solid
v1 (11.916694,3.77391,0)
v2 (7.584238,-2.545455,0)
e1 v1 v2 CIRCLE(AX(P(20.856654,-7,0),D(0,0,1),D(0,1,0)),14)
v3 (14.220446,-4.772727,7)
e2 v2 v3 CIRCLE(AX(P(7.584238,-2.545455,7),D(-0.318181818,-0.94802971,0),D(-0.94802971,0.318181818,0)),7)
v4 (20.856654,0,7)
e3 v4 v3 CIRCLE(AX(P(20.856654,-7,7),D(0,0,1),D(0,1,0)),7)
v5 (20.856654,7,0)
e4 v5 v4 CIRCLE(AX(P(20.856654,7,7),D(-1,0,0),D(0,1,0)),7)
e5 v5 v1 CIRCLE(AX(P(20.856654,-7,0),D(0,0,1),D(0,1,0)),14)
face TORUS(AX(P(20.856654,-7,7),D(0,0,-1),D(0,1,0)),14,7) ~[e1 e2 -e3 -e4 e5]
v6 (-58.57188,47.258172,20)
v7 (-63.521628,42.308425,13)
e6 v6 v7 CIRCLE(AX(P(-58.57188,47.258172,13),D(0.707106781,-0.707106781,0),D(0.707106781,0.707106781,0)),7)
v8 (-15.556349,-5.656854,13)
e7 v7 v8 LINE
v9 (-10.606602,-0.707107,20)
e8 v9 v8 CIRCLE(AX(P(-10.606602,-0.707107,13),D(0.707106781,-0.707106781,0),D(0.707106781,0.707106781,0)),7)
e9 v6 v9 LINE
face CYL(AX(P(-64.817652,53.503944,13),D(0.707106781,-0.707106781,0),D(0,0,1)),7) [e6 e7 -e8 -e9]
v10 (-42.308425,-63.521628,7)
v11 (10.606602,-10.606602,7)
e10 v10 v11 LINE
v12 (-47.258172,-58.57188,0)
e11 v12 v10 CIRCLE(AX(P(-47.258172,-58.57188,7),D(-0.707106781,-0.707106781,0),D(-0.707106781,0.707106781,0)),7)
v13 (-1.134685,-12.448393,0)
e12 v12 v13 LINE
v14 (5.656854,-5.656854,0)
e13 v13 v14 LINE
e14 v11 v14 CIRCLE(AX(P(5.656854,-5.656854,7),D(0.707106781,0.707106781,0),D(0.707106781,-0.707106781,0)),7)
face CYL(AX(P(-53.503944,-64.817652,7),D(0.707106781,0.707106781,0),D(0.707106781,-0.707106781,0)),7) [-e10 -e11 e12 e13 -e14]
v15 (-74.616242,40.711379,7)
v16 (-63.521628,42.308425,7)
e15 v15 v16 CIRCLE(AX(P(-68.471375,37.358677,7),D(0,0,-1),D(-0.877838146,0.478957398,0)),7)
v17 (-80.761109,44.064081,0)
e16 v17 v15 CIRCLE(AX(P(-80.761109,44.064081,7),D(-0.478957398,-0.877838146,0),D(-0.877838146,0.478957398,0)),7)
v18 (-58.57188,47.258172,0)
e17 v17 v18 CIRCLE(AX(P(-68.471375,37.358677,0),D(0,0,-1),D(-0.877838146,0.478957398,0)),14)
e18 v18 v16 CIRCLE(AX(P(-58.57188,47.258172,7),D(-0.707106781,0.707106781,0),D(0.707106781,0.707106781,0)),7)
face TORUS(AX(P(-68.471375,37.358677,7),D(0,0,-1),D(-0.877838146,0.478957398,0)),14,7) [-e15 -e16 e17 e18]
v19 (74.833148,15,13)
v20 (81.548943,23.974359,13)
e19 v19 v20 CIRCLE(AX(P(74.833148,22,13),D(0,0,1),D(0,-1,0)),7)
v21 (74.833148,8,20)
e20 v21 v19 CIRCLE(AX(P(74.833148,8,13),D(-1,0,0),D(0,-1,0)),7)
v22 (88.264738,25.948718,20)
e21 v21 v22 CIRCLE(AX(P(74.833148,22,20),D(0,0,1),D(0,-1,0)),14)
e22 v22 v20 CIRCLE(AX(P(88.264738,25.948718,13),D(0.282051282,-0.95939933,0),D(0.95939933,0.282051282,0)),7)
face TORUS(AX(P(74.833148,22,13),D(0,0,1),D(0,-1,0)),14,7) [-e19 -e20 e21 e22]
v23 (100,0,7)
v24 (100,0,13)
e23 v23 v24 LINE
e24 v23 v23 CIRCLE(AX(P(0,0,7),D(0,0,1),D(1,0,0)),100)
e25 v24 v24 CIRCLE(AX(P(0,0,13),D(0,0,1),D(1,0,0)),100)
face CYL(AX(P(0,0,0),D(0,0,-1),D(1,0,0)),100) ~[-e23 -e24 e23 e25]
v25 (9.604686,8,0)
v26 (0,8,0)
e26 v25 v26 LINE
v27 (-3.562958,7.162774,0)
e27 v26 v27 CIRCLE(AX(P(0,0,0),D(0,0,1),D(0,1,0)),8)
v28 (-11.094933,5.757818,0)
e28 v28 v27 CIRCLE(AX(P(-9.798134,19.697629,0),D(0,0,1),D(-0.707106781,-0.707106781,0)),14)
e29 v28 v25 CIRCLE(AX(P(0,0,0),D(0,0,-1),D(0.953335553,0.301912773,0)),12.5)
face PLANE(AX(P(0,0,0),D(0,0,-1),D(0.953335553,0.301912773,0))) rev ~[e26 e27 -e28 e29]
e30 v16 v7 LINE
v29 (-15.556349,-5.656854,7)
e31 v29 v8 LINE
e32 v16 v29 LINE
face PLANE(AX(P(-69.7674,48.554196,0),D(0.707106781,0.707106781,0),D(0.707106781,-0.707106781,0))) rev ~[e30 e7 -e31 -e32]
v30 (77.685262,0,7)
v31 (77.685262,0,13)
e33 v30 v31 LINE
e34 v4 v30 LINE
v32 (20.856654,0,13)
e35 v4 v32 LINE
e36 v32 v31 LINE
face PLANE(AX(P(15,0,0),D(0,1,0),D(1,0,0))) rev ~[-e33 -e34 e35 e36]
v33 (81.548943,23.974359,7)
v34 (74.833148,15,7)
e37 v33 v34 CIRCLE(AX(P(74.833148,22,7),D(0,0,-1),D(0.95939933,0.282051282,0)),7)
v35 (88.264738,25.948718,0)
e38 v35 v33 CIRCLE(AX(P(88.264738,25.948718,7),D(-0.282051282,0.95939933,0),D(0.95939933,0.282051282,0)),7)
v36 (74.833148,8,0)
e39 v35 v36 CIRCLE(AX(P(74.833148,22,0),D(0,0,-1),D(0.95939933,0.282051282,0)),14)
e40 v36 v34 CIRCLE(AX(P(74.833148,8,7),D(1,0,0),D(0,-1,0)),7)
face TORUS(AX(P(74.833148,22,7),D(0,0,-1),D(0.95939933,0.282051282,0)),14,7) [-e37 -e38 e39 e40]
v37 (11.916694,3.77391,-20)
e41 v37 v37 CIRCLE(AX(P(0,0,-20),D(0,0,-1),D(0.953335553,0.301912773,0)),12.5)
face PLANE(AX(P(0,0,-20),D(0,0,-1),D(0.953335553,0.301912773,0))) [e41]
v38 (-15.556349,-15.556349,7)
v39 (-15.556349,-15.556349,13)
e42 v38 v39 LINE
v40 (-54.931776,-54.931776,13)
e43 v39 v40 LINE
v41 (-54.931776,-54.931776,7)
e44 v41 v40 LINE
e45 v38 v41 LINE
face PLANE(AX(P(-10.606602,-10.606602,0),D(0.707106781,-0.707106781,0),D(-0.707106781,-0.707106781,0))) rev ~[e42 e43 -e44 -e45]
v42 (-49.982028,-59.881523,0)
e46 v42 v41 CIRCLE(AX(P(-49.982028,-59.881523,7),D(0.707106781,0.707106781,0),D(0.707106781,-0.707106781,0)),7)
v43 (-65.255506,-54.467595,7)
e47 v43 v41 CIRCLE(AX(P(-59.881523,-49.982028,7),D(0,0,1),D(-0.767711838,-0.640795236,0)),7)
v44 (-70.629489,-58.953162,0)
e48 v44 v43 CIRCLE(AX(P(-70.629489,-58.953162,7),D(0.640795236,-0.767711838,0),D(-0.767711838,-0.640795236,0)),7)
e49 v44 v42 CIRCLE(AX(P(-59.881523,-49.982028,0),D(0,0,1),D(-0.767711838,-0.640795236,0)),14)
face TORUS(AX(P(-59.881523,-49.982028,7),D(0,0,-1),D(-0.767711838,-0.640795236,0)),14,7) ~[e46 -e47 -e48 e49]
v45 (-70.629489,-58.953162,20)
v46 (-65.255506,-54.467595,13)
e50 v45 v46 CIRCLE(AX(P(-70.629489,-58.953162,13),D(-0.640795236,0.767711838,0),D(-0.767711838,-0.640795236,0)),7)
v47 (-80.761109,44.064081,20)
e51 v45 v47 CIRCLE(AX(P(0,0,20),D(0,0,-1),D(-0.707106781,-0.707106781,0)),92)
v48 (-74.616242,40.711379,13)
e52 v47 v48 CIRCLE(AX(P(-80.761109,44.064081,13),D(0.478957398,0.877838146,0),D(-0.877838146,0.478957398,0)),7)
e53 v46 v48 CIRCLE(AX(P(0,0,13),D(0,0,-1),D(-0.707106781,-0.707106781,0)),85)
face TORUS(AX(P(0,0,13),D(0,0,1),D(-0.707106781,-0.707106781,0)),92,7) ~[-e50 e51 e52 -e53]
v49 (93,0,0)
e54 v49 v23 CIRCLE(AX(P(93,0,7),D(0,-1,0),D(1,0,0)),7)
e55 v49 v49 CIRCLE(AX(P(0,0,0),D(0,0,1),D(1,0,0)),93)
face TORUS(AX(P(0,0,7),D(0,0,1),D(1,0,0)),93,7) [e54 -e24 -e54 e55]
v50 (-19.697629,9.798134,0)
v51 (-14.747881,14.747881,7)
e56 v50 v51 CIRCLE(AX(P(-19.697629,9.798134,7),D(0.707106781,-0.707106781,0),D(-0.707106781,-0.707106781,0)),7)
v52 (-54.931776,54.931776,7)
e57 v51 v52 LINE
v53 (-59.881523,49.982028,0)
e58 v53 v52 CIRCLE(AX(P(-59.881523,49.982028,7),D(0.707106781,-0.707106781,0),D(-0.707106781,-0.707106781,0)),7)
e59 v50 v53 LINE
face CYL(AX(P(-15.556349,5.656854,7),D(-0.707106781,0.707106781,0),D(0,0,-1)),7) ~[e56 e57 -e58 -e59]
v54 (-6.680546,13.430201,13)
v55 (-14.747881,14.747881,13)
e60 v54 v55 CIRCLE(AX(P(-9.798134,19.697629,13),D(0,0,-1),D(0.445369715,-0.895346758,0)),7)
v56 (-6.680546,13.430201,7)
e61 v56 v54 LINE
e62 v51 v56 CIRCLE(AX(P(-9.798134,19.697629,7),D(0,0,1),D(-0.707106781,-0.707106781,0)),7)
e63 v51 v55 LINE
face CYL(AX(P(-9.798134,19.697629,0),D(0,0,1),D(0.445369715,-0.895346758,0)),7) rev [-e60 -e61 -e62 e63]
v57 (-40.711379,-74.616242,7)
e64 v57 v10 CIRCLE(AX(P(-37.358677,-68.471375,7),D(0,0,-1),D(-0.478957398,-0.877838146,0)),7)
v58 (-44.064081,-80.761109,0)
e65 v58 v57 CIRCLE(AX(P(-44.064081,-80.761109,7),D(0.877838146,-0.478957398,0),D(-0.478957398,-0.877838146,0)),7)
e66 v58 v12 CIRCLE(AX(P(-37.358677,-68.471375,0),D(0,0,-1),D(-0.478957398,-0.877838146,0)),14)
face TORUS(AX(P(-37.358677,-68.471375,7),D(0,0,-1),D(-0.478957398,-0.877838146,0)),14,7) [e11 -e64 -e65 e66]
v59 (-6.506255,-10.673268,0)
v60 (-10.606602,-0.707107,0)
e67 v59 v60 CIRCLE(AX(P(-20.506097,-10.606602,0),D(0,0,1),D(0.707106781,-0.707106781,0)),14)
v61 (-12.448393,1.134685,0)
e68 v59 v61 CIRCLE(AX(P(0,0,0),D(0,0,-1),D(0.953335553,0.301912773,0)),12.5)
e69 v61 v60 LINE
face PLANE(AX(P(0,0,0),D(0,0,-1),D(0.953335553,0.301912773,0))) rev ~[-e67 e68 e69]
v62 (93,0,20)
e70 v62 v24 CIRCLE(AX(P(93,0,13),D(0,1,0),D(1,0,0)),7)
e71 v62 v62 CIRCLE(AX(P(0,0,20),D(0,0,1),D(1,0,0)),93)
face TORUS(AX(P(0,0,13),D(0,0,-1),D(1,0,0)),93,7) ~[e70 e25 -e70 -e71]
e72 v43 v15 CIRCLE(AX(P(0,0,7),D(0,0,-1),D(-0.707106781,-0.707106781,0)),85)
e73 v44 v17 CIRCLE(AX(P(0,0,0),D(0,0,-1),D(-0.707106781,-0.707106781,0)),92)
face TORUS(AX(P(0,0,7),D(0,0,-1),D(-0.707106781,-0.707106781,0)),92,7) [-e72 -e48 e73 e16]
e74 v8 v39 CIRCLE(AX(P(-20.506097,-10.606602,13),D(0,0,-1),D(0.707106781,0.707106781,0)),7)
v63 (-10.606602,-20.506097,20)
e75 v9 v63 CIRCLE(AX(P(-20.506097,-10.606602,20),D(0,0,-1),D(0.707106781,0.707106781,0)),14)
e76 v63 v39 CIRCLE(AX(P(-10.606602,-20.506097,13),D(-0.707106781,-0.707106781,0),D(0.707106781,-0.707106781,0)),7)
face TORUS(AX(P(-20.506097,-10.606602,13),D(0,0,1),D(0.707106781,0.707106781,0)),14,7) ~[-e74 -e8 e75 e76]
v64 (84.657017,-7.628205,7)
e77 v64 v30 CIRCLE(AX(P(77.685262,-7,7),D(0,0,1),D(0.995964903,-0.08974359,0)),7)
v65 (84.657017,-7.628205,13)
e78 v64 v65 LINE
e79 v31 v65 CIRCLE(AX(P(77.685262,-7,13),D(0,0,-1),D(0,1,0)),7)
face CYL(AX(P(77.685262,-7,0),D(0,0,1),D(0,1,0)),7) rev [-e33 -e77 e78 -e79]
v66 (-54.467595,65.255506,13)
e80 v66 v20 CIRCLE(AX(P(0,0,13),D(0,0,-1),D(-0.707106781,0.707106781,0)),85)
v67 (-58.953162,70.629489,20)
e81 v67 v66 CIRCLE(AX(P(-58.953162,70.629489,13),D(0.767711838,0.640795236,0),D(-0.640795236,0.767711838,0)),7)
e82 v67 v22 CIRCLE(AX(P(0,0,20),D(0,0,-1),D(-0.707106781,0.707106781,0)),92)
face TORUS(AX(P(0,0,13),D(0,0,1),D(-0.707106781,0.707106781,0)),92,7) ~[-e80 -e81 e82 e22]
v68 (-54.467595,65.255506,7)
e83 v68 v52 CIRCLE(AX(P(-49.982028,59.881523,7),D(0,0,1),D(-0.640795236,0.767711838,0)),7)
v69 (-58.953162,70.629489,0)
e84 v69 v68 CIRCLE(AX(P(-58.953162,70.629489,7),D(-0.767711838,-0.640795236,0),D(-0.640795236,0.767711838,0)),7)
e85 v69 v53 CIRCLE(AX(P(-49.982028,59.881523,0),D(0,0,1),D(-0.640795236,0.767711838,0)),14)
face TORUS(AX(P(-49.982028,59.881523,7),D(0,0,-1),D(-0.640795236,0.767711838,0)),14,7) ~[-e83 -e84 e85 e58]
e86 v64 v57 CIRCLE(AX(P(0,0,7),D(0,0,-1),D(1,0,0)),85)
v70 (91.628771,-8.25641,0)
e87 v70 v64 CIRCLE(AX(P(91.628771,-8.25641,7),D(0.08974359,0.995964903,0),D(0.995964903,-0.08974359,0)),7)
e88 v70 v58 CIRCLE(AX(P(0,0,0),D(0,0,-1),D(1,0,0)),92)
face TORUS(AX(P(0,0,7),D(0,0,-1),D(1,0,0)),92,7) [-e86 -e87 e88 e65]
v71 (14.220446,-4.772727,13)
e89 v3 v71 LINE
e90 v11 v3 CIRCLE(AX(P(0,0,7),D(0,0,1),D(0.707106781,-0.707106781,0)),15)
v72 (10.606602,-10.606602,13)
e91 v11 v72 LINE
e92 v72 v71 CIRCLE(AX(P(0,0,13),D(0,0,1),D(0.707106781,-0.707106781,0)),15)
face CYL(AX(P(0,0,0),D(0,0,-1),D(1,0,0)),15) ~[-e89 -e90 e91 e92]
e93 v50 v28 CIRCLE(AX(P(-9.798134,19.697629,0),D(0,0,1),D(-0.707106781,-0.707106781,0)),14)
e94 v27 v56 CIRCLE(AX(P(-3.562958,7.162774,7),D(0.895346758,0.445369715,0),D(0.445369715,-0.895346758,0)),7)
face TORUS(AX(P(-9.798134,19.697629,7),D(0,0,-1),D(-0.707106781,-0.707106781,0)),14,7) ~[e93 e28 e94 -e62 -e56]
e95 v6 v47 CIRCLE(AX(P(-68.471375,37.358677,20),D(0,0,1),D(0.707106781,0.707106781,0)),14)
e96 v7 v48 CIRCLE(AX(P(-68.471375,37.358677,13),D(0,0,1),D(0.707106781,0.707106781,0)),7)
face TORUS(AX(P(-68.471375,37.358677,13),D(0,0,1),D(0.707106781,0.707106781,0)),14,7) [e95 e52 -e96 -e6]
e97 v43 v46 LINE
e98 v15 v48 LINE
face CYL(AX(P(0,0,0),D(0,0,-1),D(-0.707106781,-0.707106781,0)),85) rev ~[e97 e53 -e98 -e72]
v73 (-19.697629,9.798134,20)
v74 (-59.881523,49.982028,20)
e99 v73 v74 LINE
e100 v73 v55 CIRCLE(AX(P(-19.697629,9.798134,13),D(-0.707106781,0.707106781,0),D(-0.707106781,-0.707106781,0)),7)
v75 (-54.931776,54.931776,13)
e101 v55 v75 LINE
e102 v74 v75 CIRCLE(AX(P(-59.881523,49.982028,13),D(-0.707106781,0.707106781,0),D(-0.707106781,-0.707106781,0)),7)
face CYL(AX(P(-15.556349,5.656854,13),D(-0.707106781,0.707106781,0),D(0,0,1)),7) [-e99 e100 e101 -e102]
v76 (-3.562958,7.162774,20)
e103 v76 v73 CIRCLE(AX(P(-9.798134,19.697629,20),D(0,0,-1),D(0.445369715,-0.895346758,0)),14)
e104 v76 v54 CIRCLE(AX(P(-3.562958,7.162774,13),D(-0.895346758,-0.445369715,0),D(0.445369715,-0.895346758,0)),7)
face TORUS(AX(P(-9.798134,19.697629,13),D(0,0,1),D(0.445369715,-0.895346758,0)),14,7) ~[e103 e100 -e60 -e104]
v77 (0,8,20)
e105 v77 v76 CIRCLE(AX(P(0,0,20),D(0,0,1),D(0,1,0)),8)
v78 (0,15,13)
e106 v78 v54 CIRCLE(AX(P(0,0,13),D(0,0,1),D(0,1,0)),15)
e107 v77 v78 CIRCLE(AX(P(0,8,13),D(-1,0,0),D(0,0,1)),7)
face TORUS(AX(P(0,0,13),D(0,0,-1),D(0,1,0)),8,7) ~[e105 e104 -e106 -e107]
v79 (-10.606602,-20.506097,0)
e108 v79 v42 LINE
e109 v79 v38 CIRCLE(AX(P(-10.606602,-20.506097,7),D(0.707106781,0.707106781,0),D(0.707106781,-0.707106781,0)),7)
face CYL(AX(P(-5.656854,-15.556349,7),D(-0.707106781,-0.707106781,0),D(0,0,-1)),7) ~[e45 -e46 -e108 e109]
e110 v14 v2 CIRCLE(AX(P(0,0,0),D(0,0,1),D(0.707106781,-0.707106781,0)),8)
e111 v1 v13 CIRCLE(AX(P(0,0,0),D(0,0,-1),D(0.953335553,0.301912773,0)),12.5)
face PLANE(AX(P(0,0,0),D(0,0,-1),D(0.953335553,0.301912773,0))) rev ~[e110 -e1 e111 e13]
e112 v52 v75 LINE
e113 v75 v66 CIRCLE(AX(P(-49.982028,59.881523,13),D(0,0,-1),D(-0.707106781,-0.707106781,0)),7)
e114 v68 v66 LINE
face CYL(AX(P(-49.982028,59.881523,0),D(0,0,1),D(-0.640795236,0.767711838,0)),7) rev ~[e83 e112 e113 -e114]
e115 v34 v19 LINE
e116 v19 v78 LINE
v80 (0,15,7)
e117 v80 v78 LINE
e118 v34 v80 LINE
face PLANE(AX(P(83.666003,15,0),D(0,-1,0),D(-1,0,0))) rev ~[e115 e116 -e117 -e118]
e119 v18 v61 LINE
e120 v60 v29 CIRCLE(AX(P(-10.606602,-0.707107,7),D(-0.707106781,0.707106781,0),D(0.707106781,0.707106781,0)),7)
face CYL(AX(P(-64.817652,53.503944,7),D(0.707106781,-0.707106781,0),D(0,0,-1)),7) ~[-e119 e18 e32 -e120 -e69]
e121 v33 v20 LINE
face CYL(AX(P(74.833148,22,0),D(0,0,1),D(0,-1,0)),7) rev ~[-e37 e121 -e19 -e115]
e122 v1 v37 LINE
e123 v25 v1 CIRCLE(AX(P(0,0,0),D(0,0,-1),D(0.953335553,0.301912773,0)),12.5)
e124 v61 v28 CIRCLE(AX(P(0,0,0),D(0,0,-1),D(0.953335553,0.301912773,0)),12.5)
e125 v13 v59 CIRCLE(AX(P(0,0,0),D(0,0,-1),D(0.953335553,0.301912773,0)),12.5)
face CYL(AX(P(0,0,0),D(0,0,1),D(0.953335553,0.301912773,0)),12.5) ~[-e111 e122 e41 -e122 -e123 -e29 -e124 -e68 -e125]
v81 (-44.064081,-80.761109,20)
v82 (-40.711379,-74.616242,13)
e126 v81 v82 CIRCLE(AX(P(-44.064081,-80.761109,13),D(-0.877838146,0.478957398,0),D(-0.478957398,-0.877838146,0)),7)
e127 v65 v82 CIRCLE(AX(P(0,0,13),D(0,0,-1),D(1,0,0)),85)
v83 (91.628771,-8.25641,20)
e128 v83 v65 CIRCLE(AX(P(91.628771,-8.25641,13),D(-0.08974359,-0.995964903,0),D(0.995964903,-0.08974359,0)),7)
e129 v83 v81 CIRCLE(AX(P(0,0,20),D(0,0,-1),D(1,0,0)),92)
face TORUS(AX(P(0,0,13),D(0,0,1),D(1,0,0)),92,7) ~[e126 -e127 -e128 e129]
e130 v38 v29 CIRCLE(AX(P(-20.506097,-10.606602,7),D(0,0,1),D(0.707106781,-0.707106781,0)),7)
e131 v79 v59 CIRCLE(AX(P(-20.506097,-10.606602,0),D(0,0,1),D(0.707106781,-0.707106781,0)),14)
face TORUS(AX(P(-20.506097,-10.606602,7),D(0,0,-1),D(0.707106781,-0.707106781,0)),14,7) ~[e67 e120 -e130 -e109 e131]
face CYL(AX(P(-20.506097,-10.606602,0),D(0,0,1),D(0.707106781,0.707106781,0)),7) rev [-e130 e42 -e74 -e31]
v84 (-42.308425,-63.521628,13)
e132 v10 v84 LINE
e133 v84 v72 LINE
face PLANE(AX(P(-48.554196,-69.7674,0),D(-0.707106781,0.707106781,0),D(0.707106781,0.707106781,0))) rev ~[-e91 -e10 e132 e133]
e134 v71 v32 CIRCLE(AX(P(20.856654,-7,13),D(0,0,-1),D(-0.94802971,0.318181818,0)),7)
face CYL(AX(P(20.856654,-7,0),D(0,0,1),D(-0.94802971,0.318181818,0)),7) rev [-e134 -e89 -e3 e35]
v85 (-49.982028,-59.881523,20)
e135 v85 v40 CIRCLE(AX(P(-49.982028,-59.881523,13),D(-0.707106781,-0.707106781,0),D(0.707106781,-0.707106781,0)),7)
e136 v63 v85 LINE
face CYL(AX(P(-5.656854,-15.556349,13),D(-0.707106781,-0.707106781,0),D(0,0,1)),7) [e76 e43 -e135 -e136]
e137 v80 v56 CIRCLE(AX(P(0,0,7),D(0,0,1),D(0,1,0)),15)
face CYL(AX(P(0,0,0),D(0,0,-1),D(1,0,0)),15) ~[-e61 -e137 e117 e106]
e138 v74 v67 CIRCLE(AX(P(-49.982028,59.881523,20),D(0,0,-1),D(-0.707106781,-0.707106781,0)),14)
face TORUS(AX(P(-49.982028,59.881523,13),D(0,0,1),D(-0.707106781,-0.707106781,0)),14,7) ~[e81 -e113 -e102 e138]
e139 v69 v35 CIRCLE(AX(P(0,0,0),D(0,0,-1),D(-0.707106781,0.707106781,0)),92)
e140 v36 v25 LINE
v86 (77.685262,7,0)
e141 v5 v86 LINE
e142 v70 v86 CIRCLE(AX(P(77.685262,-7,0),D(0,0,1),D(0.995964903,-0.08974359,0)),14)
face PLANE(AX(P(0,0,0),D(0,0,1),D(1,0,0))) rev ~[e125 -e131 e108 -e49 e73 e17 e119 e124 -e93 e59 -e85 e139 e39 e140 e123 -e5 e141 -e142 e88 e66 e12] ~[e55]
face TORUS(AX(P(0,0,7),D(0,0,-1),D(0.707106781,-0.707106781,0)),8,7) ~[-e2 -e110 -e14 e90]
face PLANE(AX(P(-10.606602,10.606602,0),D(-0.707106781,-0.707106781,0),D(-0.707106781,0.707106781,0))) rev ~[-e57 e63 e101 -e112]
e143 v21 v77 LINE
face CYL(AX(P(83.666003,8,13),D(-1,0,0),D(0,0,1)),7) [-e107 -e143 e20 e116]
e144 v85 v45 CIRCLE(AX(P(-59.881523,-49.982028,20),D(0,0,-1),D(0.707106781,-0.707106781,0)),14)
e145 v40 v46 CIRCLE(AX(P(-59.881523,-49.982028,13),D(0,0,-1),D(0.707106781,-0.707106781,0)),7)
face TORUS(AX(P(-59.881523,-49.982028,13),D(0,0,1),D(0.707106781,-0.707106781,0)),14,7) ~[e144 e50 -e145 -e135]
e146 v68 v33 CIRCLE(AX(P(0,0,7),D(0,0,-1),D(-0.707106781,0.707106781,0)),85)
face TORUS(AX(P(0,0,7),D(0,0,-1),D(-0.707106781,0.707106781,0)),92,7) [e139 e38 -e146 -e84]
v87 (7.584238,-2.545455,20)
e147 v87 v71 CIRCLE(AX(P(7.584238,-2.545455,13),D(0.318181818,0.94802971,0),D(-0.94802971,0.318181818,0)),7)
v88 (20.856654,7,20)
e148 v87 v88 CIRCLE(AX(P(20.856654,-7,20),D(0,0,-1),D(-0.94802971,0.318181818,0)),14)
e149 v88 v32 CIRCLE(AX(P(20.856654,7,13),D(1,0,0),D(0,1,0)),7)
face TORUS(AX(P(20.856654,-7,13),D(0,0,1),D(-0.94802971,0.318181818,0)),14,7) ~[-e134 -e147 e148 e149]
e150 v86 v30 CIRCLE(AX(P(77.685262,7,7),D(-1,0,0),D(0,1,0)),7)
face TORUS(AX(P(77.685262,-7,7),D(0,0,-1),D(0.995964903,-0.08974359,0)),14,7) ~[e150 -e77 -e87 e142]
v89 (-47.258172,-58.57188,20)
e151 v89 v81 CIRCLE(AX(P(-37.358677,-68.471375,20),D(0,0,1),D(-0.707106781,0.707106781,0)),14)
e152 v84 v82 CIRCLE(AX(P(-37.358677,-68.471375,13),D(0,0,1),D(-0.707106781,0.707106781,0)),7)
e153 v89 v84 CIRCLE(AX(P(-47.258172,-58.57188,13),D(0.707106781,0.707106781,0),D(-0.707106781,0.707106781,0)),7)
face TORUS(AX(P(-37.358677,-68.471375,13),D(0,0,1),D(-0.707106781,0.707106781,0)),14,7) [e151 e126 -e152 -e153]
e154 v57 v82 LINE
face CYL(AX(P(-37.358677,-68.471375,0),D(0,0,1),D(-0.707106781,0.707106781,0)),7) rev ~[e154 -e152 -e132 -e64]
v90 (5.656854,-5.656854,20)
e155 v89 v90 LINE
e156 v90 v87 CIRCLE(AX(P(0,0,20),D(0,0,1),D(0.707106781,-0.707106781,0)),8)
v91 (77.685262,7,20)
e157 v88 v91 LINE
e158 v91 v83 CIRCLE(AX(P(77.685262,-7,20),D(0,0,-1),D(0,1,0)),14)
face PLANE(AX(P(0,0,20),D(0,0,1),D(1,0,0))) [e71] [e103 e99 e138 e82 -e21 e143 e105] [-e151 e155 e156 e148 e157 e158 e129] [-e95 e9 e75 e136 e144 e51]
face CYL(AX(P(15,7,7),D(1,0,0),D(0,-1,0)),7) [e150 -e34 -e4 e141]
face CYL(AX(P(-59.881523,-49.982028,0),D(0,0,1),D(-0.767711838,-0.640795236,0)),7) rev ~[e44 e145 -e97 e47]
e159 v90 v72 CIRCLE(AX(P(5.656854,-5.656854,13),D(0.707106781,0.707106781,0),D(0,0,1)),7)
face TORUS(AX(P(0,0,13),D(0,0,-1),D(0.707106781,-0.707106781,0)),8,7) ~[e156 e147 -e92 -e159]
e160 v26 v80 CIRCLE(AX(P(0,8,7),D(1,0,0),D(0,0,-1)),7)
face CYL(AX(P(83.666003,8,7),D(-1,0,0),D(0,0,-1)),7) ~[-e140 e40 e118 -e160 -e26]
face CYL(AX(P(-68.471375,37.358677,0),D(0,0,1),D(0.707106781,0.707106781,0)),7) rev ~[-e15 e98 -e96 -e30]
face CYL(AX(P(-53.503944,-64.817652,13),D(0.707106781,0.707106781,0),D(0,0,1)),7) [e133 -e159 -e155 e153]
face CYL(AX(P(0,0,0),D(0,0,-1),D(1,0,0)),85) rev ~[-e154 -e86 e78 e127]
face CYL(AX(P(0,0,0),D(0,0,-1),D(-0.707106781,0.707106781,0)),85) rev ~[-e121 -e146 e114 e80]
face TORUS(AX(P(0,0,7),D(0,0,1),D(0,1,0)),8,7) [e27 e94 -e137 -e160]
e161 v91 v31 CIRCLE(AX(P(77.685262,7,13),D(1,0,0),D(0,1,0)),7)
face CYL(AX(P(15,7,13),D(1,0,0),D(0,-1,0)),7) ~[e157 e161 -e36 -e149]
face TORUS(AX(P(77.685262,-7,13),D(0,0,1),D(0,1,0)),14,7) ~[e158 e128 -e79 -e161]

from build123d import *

# Parameters (mm, degrees)
SKETCH1_R           = 100
SKETCH1_R_2         = 15
BOSS_EXTRUDE1_DEPTH = 20
FILLET17_R          = 7
SKETCH2_R           = 12.5
BOSS_EXTRUDE2_DEPTH = 20


with BuildPart() as part:
    # Sketch1 → Boss-Extrude1 (new body)
    # profile 1 of 2: a face of its own
    with BuildSketch(Plane.XY):
        Circle(SKETCH1_R)
        with BuildLine():
            Line((-69.767399549, 48.554196113), (-10.606601718, -10.606601718))
            Line((-10.606601718, -10.606601718), (-60.104076401, -60.104076401))
            ThreePointArc((-60.104076401, -60.104076401), (-84.665843838, -7.529600735), (-69.767399549, 48.554196113))
        make_face(mode=Mode.SUBTRACT)
        with BuildLine():
            ThreePointArc((10.606601718, -10.606601718), (0, -15), (-10.606601718, -10.606601718))
            ThreePointArc((-10.606601718, -10.606601718), (-15, 0), (-10.606601718, 10.606601718))
            Line((-10.606601718, 10.606601718), (-60.104076401, 60.104076401))
            ThreePointArc((-60.104076401, 60.104076401), (25.443771717, 81.102493678), (83.666002653, 15))
            Line((83.666002653, 15), (0, 15))
            ThreePointArc((0, 15), (10.606601718, 10.606601718), (15, 0))
            Line((15, 0), (85, 0))
            ThreePointArc((85, 0), (39.356659731, -75.339586771), (-48.554196113, -69.767399549))
            Line((-48.554196113, -69.767399549), (10.606601718, -10.606601718))
        make_face(mode=Mode.SUBTRACT)
    # profile 2 of 2: a face of its own
    with BuildSketch(Plane.XY):
        Circle(SKETCH1_R_2)
    extrude(amount=BOSS_EXTRUDE1_DEPTH)

    # Fillet17
    fillet17_edges = [part.edges().sort_by_distance(p)[0] for p in [
        (-5.740251485, 13.858192988, 20),
        (-100, 0, 0),
        (-84.665843838, -7.529600735, 0),
        (-35.355339059, -35.355339059, 0),
        (-40.187000633, 18.973797198, 0),
        (39.356659731, -75.339586771, 0),
        (50, 0, 0),
        (13.858192988, -5.740251485, 0),
        (-35.355339059, 35.355339059, 20),
        (-18.973797198, -40.187000633, 0),
        (25.443771717, 81.102493678, 0),
        (-35.355339059, 35.355339059, 0),
        (-5.740251485, 13.858192988, 0),
        (41.833001327, 15, 0),
        (25.443771717, 81.102493678, 20),
        (-69.767399549, 48.554196113, 10),
        (-60.104076401, -60.104076401, 10),
        (-10.606601718, -10.606601718, 10),
        (-48.554196113, -69.767399549, 10),
        (85, 0, 10),
        (15, 0, 10),
        (83.666002653, 15, 10),
        (-60.104076401, 60.104076401, 10),
        (-10.606601718, 10.606601718, 10),
        (-18.973797198, -40.187000633, 20),
        (13.858192988, -5.740251485, 20),
        (50, 0, 20),
        (39.356659731, -75.339586771, 20),
        (-40.187000633, 18.973797198, 20),
        (-35.355339059, -35.355339059, 20),
        (-84.665843838, -7.529600735, 20),
        (-100, 0, 20),
        (41.833001327, 15, 20),
    ]]
    fillet(fillet17_edges, radius=FILLET17_R)

    # Sketch2 → Boss-Extrude2 (add)
    with BuildSketch(Plane(origin=(0, 0, 0), x_dir=(-1, 0, 0), z_dir=(0, 0, -1))):
        with Locations(Location((0, 0, 0), (0, 0, 162.427474987))):
            Circle(SKETCH2_R)
    extrude(amount=BOSS_EXTRUDE2_DEPTH)


solid = part.part
